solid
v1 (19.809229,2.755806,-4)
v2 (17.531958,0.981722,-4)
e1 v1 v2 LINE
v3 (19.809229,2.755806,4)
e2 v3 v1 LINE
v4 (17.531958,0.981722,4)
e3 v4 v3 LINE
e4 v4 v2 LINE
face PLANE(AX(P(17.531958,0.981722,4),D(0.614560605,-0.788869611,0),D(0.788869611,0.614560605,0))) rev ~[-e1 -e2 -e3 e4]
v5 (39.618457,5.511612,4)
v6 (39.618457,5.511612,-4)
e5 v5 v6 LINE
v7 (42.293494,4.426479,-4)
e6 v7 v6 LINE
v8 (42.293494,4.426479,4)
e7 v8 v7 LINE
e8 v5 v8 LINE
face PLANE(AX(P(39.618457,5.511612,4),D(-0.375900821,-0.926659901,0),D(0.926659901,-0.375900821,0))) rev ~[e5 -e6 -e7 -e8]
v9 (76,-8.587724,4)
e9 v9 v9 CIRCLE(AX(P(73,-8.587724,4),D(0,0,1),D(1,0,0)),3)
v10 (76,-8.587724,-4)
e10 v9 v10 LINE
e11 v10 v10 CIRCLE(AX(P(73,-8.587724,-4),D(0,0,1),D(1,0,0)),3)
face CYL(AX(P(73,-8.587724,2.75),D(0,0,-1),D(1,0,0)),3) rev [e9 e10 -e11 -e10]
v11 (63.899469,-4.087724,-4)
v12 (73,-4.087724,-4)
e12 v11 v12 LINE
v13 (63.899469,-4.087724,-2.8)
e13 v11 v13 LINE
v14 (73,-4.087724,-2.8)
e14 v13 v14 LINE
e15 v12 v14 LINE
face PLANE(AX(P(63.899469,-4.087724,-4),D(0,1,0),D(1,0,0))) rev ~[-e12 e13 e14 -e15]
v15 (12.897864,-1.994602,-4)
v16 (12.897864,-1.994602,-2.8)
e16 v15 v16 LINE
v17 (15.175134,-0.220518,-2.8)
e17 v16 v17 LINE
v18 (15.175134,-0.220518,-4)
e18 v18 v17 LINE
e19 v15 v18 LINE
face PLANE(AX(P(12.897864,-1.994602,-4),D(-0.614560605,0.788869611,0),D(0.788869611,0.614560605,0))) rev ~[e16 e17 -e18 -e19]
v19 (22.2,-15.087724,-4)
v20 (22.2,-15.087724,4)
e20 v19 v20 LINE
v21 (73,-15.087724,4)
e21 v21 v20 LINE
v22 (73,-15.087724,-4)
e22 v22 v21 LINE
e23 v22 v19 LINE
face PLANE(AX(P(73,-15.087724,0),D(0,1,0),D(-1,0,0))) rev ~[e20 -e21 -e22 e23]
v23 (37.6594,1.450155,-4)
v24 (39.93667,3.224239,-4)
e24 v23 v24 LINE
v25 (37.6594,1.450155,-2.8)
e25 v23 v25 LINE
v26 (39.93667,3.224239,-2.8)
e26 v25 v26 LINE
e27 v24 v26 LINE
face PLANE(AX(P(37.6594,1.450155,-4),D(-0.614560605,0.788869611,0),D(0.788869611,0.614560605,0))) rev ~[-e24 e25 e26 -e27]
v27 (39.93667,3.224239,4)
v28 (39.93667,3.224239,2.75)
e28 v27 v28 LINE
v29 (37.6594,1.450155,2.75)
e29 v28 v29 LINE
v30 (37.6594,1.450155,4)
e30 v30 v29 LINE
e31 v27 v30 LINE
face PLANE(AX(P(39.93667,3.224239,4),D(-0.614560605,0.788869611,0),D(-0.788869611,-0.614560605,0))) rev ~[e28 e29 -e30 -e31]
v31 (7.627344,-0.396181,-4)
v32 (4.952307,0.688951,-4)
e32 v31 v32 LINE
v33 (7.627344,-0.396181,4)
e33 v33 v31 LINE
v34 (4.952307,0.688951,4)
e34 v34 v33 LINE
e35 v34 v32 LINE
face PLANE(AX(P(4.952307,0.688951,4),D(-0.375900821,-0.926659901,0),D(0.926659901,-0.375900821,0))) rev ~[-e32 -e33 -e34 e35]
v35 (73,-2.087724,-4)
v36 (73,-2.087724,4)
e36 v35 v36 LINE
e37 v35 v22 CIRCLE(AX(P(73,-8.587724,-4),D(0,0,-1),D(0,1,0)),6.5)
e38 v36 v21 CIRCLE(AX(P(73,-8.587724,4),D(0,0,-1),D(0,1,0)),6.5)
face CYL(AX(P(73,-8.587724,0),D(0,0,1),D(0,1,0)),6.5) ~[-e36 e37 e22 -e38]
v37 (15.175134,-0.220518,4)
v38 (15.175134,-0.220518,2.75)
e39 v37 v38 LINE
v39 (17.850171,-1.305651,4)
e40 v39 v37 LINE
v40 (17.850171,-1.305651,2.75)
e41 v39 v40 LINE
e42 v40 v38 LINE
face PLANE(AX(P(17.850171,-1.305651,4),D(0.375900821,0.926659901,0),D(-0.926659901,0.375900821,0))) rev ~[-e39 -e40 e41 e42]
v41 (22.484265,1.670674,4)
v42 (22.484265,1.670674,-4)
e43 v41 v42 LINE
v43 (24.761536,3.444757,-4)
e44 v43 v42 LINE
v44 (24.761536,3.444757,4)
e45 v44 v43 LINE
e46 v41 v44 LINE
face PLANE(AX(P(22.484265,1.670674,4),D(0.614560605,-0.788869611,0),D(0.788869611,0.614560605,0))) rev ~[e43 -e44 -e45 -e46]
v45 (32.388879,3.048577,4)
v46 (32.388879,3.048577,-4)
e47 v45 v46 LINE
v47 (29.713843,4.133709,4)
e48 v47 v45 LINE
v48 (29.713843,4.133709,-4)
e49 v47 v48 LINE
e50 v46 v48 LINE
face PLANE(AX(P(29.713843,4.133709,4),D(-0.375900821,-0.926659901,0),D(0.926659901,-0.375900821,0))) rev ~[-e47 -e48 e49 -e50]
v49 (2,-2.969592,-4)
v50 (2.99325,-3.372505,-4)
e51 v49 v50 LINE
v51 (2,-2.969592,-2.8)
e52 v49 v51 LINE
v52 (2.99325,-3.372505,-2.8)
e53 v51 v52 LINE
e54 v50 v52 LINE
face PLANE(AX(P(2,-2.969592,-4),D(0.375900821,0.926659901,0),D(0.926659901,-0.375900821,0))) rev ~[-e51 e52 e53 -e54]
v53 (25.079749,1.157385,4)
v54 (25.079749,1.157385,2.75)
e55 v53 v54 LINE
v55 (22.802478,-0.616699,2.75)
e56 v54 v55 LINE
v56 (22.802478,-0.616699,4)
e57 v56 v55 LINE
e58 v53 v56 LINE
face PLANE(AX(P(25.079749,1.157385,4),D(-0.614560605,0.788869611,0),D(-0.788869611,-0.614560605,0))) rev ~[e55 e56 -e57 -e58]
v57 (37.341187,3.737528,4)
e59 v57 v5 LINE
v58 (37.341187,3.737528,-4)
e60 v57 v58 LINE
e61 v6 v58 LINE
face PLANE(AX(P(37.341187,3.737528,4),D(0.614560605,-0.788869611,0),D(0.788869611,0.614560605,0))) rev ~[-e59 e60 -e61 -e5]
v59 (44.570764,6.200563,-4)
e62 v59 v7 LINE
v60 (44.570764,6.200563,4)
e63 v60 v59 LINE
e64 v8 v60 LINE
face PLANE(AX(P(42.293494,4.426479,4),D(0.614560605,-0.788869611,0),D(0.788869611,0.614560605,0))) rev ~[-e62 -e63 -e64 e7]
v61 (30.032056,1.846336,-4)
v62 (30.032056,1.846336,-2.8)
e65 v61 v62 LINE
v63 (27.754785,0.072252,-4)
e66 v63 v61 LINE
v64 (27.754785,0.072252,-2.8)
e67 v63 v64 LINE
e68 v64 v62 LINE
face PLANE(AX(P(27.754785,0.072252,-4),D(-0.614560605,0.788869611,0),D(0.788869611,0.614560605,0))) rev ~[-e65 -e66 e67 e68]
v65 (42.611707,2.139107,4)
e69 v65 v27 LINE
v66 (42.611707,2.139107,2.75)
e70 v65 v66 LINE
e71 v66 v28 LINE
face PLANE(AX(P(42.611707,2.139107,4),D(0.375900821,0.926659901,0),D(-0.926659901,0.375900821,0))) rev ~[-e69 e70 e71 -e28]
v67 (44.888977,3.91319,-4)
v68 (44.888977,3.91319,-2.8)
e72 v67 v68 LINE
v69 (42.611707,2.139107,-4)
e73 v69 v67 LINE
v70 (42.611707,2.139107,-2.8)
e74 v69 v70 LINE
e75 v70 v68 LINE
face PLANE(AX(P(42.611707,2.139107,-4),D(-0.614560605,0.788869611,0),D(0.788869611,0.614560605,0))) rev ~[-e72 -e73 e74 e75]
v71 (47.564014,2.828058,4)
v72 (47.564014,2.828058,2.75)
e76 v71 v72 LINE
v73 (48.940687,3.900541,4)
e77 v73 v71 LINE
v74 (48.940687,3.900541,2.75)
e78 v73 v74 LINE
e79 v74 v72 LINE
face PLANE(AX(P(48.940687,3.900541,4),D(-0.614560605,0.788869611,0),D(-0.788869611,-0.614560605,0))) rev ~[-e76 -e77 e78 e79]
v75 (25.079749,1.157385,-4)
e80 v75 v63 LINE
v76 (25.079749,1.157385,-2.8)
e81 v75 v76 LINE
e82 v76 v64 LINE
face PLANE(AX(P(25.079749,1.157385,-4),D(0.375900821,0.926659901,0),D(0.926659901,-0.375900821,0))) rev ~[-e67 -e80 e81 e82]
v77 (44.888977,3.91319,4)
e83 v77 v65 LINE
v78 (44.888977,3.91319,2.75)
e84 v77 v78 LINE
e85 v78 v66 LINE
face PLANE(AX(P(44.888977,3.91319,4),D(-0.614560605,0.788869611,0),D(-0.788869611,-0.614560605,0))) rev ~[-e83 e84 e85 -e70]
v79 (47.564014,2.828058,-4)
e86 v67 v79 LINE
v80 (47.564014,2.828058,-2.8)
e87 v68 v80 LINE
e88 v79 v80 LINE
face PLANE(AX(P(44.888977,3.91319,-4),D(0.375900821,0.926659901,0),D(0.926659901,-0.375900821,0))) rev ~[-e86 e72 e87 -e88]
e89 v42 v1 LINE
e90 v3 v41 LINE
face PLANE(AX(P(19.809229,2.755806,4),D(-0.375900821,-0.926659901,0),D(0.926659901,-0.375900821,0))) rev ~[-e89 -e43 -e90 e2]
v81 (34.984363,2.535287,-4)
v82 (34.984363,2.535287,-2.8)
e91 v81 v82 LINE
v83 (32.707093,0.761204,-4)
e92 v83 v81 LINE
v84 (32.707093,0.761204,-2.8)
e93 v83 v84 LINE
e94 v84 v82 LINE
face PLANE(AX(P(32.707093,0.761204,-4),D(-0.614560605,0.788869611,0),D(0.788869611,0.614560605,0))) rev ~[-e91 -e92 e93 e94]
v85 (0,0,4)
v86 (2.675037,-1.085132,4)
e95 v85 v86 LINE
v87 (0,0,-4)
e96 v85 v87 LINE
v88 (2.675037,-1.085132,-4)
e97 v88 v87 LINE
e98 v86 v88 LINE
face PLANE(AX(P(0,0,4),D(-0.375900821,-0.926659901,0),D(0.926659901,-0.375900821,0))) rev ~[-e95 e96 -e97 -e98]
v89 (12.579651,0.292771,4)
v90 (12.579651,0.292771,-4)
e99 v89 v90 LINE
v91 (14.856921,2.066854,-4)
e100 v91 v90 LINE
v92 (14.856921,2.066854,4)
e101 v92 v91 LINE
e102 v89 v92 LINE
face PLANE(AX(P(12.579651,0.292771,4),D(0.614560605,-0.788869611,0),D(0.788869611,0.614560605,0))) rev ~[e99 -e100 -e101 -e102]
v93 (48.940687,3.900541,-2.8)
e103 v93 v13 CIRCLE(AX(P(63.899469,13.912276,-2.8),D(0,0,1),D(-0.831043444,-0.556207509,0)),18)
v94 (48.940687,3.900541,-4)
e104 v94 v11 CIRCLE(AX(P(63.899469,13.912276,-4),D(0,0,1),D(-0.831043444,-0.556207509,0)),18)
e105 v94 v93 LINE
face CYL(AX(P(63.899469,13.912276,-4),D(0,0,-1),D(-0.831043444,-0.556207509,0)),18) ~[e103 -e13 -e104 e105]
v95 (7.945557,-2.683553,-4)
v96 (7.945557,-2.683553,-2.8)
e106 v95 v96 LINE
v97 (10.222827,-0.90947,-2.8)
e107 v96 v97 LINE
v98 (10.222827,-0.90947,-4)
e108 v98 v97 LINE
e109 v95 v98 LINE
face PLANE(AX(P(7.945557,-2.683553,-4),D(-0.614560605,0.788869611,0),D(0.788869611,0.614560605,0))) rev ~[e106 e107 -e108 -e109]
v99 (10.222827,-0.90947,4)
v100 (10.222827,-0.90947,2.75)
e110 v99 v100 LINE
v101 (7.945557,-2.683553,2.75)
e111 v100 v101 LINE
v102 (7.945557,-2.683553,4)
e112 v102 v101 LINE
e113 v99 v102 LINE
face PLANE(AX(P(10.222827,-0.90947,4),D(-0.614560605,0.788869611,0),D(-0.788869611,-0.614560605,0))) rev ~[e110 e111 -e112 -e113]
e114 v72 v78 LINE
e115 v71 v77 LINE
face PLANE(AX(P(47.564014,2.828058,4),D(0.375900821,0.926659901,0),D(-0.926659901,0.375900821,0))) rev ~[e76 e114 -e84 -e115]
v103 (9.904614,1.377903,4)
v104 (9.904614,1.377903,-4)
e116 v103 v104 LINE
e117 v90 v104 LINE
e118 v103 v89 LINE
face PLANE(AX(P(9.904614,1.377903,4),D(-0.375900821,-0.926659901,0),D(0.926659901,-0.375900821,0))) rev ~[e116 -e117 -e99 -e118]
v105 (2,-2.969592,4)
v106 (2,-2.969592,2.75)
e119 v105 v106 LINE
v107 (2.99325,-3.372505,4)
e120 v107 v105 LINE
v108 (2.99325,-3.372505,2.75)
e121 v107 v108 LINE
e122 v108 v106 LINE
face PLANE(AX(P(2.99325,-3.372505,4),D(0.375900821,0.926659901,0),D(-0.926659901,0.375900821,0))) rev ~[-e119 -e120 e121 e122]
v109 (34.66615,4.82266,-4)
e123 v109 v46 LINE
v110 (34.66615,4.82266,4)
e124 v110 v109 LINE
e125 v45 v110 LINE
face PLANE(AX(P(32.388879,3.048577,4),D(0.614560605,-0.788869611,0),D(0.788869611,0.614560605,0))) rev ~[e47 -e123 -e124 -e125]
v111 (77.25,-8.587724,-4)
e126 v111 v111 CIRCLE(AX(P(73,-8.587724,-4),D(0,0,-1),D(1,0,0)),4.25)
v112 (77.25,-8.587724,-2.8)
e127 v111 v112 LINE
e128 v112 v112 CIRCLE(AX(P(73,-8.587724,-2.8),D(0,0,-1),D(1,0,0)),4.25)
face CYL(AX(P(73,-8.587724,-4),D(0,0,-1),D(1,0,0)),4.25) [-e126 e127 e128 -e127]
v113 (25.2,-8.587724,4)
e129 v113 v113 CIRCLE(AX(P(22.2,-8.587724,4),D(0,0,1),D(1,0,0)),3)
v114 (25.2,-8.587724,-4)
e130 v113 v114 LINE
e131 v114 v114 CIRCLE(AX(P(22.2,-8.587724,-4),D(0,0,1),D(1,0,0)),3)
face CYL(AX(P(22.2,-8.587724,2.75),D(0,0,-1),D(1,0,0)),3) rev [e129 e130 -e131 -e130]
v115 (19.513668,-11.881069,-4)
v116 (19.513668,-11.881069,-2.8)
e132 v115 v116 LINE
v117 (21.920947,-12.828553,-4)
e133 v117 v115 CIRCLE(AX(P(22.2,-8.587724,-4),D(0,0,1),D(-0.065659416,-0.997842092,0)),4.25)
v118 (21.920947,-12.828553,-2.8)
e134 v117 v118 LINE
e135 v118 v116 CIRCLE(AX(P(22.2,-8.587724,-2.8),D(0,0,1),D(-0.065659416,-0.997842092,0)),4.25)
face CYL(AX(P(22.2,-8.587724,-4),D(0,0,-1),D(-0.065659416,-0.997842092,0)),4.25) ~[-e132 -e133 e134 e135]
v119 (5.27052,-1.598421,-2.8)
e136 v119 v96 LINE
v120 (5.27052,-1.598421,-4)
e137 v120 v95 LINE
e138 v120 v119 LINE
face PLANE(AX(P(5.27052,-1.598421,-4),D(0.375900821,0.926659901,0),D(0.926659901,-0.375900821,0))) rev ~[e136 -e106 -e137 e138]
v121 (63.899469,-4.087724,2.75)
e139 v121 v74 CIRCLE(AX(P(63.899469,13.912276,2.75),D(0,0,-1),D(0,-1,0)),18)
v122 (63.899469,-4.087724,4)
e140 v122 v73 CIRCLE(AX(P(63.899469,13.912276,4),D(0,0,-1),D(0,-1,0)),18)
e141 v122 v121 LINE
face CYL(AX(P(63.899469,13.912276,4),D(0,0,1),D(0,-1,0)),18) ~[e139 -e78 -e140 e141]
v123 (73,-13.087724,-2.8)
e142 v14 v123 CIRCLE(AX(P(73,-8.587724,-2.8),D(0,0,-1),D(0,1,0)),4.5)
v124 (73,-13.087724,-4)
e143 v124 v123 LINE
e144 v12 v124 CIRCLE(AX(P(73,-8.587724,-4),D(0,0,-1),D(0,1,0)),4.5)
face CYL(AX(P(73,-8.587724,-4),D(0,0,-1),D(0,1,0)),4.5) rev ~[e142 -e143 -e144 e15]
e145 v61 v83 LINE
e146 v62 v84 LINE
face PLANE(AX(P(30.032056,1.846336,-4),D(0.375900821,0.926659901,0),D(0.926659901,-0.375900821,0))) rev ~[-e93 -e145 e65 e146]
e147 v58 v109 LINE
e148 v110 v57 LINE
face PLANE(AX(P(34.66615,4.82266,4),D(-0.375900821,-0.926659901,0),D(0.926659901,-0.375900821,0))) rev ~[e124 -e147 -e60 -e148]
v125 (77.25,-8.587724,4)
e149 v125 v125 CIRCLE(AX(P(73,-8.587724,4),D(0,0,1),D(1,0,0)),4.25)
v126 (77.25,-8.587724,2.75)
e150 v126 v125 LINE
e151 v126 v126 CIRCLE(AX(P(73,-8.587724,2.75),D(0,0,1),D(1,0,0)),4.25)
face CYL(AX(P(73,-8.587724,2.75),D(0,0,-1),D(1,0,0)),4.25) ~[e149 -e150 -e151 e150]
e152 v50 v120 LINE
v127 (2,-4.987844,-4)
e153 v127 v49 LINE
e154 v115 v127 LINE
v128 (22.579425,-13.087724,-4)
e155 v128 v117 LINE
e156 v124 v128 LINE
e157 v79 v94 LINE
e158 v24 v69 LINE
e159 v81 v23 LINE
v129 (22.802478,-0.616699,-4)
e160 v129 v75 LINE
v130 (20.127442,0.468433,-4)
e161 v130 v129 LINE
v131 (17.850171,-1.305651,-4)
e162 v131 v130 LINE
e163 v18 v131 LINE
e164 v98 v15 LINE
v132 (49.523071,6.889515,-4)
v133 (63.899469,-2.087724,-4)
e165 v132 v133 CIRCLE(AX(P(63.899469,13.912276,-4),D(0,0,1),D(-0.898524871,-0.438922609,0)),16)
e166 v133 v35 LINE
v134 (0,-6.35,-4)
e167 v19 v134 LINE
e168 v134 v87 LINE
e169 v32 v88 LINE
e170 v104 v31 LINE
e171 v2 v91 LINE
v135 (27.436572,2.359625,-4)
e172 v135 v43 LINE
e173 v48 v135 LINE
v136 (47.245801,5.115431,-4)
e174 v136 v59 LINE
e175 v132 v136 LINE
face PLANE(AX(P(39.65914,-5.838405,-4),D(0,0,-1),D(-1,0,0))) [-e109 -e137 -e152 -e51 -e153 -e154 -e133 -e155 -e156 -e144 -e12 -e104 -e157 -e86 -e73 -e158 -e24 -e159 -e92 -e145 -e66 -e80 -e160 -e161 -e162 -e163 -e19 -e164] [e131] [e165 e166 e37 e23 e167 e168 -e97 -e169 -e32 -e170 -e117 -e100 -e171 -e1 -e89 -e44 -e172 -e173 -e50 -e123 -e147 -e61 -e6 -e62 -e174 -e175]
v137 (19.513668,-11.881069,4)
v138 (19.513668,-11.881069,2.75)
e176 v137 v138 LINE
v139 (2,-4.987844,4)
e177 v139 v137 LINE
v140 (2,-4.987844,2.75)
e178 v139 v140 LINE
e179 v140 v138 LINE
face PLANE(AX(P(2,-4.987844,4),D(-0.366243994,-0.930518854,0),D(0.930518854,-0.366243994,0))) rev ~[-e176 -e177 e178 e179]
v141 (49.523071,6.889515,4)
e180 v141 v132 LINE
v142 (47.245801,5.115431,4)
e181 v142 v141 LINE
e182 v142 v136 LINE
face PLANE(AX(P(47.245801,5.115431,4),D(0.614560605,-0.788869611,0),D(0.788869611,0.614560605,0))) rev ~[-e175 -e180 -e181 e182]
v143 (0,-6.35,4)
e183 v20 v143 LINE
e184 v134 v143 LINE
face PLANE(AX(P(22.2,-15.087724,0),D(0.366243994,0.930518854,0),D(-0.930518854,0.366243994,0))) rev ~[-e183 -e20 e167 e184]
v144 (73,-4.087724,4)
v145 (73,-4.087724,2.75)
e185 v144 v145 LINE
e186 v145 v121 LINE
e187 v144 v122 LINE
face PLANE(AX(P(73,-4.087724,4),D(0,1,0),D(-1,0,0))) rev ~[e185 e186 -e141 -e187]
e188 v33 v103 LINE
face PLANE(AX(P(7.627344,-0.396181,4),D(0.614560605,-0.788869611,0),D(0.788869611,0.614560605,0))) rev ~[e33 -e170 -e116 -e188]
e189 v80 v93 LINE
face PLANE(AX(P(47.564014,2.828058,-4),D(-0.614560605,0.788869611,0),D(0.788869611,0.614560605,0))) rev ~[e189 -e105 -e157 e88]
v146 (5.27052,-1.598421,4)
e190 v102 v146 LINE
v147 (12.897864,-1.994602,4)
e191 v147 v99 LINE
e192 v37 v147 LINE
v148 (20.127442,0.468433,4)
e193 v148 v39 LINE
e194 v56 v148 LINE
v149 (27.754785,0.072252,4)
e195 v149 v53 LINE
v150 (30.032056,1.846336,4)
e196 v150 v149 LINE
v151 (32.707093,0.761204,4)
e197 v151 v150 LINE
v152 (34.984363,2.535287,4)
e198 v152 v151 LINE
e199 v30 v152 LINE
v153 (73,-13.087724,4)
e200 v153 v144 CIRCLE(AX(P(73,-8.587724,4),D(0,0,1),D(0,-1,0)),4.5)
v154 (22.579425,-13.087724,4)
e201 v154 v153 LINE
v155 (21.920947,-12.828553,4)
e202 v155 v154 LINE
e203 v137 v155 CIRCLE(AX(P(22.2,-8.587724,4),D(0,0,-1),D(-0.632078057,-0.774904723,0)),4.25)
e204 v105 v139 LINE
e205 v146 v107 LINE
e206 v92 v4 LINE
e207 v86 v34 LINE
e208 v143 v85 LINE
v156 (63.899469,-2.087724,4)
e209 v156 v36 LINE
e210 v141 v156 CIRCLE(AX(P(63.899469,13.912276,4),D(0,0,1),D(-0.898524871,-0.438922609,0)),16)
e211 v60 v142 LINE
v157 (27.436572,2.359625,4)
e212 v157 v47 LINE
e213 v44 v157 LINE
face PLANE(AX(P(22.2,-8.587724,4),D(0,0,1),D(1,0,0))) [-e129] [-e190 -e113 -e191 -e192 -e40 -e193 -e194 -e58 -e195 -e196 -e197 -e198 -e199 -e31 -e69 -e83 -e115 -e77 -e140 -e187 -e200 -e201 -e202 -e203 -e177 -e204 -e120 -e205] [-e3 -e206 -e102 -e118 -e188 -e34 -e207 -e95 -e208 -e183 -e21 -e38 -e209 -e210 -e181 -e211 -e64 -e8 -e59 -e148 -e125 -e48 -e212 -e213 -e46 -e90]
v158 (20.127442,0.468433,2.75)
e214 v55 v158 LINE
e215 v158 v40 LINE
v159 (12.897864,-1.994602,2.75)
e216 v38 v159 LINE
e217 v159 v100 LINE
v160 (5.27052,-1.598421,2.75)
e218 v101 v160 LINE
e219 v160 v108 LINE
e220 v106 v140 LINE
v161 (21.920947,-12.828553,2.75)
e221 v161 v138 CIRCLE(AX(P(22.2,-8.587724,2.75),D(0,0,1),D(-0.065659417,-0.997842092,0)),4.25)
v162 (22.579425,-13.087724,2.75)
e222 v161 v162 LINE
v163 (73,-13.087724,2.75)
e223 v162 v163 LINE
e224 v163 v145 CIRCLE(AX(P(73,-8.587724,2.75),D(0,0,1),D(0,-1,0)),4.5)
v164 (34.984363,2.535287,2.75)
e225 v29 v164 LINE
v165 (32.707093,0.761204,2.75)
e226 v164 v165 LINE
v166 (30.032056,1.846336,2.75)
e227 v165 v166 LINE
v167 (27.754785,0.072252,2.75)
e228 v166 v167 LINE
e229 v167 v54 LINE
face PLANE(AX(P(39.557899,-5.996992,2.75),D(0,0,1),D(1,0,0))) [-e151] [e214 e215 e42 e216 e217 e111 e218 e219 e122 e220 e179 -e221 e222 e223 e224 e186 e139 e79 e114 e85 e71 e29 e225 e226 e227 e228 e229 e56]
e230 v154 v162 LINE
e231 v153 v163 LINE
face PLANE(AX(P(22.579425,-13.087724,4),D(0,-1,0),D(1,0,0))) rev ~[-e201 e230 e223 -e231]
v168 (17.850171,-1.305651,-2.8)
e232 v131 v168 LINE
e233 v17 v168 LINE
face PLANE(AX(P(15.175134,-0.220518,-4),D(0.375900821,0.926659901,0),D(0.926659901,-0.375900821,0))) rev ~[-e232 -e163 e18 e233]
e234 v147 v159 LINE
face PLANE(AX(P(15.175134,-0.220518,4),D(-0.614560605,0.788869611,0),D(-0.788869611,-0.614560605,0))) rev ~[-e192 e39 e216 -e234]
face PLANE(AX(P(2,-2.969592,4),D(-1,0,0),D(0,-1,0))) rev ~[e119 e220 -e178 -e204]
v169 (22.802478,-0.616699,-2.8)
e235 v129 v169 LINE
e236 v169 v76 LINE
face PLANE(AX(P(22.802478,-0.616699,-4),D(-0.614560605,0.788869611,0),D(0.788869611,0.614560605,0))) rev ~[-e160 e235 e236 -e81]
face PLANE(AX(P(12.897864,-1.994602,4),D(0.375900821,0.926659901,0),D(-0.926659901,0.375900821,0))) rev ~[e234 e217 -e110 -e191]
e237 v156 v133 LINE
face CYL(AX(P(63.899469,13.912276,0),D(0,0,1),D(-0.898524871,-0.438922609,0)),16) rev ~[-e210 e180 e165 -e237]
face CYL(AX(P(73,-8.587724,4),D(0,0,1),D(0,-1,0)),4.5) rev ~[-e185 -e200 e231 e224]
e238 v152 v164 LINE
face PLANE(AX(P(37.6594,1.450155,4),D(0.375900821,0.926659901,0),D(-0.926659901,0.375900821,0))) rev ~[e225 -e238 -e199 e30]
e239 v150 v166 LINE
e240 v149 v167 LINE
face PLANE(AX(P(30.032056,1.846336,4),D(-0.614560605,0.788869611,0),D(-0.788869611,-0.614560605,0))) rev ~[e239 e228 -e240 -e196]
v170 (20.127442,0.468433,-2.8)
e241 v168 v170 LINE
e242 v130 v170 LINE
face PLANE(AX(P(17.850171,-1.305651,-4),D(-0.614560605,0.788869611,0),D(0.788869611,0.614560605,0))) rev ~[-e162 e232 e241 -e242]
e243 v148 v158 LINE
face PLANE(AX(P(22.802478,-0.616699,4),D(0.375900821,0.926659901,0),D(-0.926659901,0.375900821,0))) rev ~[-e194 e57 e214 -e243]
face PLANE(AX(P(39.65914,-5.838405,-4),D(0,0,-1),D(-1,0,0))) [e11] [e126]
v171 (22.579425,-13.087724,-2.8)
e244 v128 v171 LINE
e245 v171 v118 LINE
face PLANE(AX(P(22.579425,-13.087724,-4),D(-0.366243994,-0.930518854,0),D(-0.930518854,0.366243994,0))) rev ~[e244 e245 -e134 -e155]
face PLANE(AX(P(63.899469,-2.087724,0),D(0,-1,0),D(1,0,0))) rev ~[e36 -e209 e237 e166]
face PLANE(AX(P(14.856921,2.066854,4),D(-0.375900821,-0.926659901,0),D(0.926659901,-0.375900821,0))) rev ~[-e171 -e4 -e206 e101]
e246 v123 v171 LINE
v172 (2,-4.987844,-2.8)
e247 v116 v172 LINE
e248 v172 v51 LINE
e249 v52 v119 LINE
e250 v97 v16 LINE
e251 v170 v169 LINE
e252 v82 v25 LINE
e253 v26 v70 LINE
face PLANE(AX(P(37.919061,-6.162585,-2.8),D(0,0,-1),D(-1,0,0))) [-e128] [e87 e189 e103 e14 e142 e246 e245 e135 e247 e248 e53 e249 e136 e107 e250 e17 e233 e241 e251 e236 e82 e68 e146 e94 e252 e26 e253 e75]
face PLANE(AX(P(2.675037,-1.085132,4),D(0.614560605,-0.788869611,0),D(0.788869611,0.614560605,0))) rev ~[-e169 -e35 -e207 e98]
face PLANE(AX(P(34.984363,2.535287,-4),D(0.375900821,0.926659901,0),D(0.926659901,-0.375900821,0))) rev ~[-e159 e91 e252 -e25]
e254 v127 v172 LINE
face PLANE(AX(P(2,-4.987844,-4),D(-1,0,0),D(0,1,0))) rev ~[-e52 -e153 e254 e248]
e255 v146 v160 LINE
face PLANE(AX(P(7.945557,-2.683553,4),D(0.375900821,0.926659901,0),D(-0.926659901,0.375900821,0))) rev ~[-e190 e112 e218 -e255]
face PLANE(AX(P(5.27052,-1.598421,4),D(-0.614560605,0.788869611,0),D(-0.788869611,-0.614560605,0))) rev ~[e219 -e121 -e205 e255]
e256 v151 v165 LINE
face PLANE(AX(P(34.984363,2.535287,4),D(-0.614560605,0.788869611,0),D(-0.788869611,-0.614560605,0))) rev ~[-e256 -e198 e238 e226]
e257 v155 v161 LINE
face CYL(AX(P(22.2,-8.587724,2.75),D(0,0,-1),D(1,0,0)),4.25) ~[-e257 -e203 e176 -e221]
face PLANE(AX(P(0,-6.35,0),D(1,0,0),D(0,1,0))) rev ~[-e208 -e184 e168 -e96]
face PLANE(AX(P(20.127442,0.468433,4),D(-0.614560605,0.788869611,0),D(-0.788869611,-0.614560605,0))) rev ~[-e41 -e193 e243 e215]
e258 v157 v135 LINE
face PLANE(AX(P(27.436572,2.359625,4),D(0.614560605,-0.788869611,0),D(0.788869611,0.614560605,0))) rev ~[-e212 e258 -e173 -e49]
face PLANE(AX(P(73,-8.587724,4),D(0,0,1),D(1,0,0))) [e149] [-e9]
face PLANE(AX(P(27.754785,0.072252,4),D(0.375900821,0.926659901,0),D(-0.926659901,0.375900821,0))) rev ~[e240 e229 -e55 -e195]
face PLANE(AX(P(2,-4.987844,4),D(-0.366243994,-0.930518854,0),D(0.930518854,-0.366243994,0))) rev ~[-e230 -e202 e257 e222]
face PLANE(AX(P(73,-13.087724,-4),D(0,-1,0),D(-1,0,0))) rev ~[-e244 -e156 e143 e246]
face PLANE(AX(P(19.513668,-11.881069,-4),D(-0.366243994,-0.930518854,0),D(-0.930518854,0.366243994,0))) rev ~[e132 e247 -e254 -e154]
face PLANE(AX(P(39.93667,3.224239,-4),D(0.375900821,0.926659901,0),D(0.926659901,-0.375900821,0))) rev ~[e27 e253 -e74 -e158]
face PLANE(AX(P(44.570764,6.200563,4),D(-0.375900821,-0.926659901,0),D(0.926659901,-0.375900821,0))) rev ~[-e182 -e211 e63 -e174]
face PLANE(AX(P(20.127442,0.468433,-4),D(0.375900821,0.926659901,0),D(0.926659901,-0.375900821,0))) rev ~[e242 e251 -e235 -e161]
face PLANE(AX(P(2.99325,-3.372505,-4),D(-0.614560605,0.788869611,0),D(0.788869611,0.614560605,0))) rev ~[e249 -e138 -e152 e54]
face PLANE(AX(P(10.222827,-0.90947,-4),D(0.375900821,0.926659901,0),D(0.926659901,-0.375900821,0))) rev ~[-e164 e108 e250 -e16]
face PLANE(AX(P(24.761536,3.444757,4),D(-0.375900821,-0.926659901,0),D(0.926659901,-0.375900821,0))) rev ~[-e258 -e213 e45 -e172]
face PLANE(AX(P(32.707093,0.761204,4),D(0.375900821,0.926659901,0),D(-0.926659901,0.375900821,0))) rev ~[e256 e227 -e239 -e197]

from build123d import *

# Parameters (mm, degrees)
SKETCH1_R           = 3
BOSS_EXTRUDE1_DEPTH = 4
CUT_EXTRUDE3_DEPTH  = 82.313525364
CUT_EXTRUDE2_DEPTH  = 1.25
SKETCH6_R           = 4.25
SKETCH6_R_2         = 3
BOSS_EXTRUDE2_DEPTH = 1.25
SKETCH7_R           = 4.25
CUT_EXTRUDE4_DEPTH  = 1.2


with BuildPart() as part:
    # Sketch1 → Boss-Extrude1 (new, symmetric)
    with BuildSketch(Plane.XY):
        with BuildLine():
            Line((0, -6.35), (0, 0))
            Line((0, 0), (49.523071285, 6.889514534))
            ThreePointArc((49.523071285, 6.889514534), (55.424924624, 0.340905899), (63.899469217, -2.087723723))
            Line((63.899469217, -2.087723723), (73, -2.087723723))
            ThreePointArc((73, -2.087723723), (79.5, -8.587723723), (73, -15.087723723))
            Line((73, -15.087723723), (22.2, -15.087723723))
            Line((22.2, -15.087723723), (0, -6.35))
        make_face()
        with Locations((73, -8.587723723)):
            Circle(SKETCH1_R, mode=Mode.SUBTRACT)
        with Locations((22.2, -8.587723723)):
            Circle(SKETCH1_R, mode=Mode.SUBTRACT)
    extrude(amount=BOSS_EXTRUDE1_DEPTH, both=True)

    # Sketch5 → Cut-Extrude3 (cut, through all)
    with BuildSketch(Plane.XY.offset(4)):
        Polygon((4.952307128, 0.688951453), (0, 0), (2.675036718, -1.0851322), align=None)
        Polygon((49.523071285, 6.889514534), (44.570764156, 6.200563081), (47.245800874, 5.115430881), align=None)
        Polygon((44.570764156, 6.200563081), (39.618457028, 5.511611627), (42.293493746, 4.426479427), align=None)
        Polygon((39.618457028, 5.511611627), (34.666149899, 4.822660174), (37.341186617, 3.737527974), align=None)
        Polygon((34.666149899, 4.822660174), (29.713842771, 4.133708721), (32.388879489, 3.04857652), align=None)
        Polygon((29.713842771, 4.133708721), (24.761535642, 3.444757267), (27.43657236, 2.359625067), align=None)
        Polygon((24.761535642, 3.444757267), (19.809228514, 2.755805814), (22.484265232, 1.670673614), align=None)
        Polygon((19.809228514, 2.755805814), (14.856921385, 2.06685436), (17.531958103, 0.98172216), align=None)
        Polygon((14.856921385, 2.06685436), (9.904614257, 1.377902907), (12.579650975, 0.292770707), align=None)
        Polygon((9.904614257, 1.377902907), (4.952307128, 0.688951453), (7.627343846, -0.396180747), align=None)
    extrude(amount=-CUT_EXTRUDE3_DEPTH, mode=Mode.SUBTRACT)

    # Sketch4 → Cut-Extrude2 (cut)
    with BuildSketch(Plane.XY.offset(4)):
        with BuildLine():
            Line((22.579425451, -13.087723723), (73, -13.087723723))
            ThreePointArc((73, -13.087723723), (77.5, -8.587723723), (73, -4.087723723))
            Line((73, -4.087723723), (63.899469217, -4.087723723))
            ThreePointArc((63.899469217, -4.087723723), (55.420413641, -1.965557849), (48.940687218, 3.900541107))
            Line((48.940687218, 3.900541107), (47.56401392, 2.828058198))
            Line((47.56401392, 2.828058198), (44.888977202, 3.913190398))
            Line((44.888977202, 3.913190398), (42.611706791, 2.139106744))
            Line((42.611706791, 2.139106744), (39.936670074, 3.224238944))
            Line((39.936670074, 3.224238944), (37.659399663, 1.450155291))
            Line((37.659399663, 1.450155291), (34.984362945, 2.535287491))
            Line((34.984362945, 2.535287491), (32.707092534, 0.761203837))
            Line((32.707092534, 0.761203837), (30.032055817, 1.846336038))
            Line((30.032055817, 1.846336038), (27.754785406, 0.072252384))
            Line((27.754785406, 0.072252384), (25.079748688, 1.157384584))
            Line((25.079748688, 1.157384584), (22.802478277, -0.616699069))
            Line((22.802478277, -0.616699069), (20.12744156, 0.468433131))
            Line((20.12744156, 0.468433131), (17.850171149, -1.305650523))
            Line((17.850171149, -1.305650523), (15.175134431, -0.220518323))
            Line((15.175134431, -0.220518323), (12.89786402, -1.994601976))
            Line((12.89786402, -1.994601976), (10.222827303, -0.909469776))
            Line((10.222827303, -0.909469776), (7.945556892, -2.68355343))
            Line((7.945556892, -2.68355343), (5.270520174, -1.59842123))
            Line((5.270520174, -1.59842123), (2.993249763, -3.372504883))
            Line((2.993249763, -3.372504883), (2, -2.969591796))
            Line((2, -2.969591796), (2, -4.987843814))
            Line((2, -4.987843814), (22.579425451, -13.087723723))
        make_face()
    extrude(amount=-CUT_EXTRUDE2_DEPTH, mode=Mode.SUBTRACT)

    # Sketch6 → Boss-Extrude2 (add)
    # profile 1 of 2: a face of its own
    with BuildSketch(Plane.XY.offset(2.75)):
        with Locations((22.2, -8.587723723)):
            Circle(SKETCH6_R)
        with Locations((22.2, -8.587723723)):
            Circle(SKETCH6_R_2, mode=Mode.SUBTRACT)
    # profile 2 of 2: a face of its own
    with BuildSketch(Plane.XY.offset(2.75)):
        with Locations((73, -8.587723723)):
            Circle(SKETCH6_R)
        with Locations((73, -8.587723723)):
            Circle(SKETCH6_R_2, mode=Mode.SUBTRACT)
    extrude(amount=BOSS_EXTRUDE2_DEPTH)

    # Sketch7 → Cut-Extrude4 (cut)
    with BuildSketch(Plane(origin=(0, 0, -4), x_dir=(-1, 0, 0), z_dir=(0, 0, -1))):
        with BuildLine():
            Line((-20.12744156, 0.468433131), (-22.802478277, -0.616699069))
            Line((-22.802478277, -0.616699069), (-25.079748688, 1.157384584))
            Line((-25.079748688, 1.157384584), (-27.754785406, 0.072252384))
            Line((-27.754785406, 0.072252384), (-30.032055817, 1.846336038))
            Line((-30.032055817, 1.846336038), (-32.707092534, 0.761203837))
            Line((-32.707092534, 0.761203837), (-34.984362945, 2.535287491))
            Line((-34.984362945, 2.535287491), (-37.659399663, 1.450155291))
            Line((-37.659399663, 1.450155291), (-39.936670074, 3.224238944))
            Line((-39.936670074, 3.224238944), (-42.611706791, 2.139106744))
            Line((-42.611706791, 2.139106744), (-44.888977202, 3.913190398))
            Line((-44.888977202, 3.913190398), (-47.56401392, 2.828058198))
            Line((-47.56401392, 2.828058198), (-48.940687218, 3.900541107))
            ThreePointArc((-48.940687218, 3.900541107), (-55.420413641, -1.965557849), (-63.899469217, -4.087723723))
            Line((-63.899469217, -4.087723723), (-73, -4.087723723))
            ThreePointArc((-73, -4.087723723), (-77.5, -8.587723723), (-73, -13.087723723))
            Line((-73, -13.087723723), (-22.579425451, -13.087723723))
            Line((-22.579425451, -13.087723723), (-21.920947479, -12.828552615))
            ThreePointArc((-21.920947479, -12.828552615), (-23.756536974, -4.633018595), (-19.513668259, -11.881068798))
            Line((-19.513668259, -11.881068798), (-2, -4.987843814))
            Line((-2, -4.987843814), (-2, -2.969591796))
            Line((-2, -2.969591796), (-2.993249763, -3.372504883))
            Line((-2.993249763, -3.372504883), (-5.270520174, -1.59842123))
            Line((-5.270520174, -1.59842123), (-7.945556892, -2.68355343))
            Line((-7.945556892, -2.68355343), (-10.222827303, -0.909469776))
            Line((-10.222827303, -0.909469776), (-12.89786402, -1.994601976))
            Line((-12.89786402, -1.994601976), (-15.175134431, -0.220518323))
            Line((-15.175134431, -0.220518323), (-17.850171149, -1.305650523))
            Line((-17.850171149, -1.305650523), (-20.12744156, 0.468433131))
        make_face()
        with Locations(Location((-73, -8.587723723, 0), (0, 0, 180))):
            Circle(SKETCH7_R, mode=Mode.SUBTRACT)
    extrude(amount=-CUT_EXTRUDE4_DEPTH, mode=Mode.SUBTRACT)


solid = part.part
